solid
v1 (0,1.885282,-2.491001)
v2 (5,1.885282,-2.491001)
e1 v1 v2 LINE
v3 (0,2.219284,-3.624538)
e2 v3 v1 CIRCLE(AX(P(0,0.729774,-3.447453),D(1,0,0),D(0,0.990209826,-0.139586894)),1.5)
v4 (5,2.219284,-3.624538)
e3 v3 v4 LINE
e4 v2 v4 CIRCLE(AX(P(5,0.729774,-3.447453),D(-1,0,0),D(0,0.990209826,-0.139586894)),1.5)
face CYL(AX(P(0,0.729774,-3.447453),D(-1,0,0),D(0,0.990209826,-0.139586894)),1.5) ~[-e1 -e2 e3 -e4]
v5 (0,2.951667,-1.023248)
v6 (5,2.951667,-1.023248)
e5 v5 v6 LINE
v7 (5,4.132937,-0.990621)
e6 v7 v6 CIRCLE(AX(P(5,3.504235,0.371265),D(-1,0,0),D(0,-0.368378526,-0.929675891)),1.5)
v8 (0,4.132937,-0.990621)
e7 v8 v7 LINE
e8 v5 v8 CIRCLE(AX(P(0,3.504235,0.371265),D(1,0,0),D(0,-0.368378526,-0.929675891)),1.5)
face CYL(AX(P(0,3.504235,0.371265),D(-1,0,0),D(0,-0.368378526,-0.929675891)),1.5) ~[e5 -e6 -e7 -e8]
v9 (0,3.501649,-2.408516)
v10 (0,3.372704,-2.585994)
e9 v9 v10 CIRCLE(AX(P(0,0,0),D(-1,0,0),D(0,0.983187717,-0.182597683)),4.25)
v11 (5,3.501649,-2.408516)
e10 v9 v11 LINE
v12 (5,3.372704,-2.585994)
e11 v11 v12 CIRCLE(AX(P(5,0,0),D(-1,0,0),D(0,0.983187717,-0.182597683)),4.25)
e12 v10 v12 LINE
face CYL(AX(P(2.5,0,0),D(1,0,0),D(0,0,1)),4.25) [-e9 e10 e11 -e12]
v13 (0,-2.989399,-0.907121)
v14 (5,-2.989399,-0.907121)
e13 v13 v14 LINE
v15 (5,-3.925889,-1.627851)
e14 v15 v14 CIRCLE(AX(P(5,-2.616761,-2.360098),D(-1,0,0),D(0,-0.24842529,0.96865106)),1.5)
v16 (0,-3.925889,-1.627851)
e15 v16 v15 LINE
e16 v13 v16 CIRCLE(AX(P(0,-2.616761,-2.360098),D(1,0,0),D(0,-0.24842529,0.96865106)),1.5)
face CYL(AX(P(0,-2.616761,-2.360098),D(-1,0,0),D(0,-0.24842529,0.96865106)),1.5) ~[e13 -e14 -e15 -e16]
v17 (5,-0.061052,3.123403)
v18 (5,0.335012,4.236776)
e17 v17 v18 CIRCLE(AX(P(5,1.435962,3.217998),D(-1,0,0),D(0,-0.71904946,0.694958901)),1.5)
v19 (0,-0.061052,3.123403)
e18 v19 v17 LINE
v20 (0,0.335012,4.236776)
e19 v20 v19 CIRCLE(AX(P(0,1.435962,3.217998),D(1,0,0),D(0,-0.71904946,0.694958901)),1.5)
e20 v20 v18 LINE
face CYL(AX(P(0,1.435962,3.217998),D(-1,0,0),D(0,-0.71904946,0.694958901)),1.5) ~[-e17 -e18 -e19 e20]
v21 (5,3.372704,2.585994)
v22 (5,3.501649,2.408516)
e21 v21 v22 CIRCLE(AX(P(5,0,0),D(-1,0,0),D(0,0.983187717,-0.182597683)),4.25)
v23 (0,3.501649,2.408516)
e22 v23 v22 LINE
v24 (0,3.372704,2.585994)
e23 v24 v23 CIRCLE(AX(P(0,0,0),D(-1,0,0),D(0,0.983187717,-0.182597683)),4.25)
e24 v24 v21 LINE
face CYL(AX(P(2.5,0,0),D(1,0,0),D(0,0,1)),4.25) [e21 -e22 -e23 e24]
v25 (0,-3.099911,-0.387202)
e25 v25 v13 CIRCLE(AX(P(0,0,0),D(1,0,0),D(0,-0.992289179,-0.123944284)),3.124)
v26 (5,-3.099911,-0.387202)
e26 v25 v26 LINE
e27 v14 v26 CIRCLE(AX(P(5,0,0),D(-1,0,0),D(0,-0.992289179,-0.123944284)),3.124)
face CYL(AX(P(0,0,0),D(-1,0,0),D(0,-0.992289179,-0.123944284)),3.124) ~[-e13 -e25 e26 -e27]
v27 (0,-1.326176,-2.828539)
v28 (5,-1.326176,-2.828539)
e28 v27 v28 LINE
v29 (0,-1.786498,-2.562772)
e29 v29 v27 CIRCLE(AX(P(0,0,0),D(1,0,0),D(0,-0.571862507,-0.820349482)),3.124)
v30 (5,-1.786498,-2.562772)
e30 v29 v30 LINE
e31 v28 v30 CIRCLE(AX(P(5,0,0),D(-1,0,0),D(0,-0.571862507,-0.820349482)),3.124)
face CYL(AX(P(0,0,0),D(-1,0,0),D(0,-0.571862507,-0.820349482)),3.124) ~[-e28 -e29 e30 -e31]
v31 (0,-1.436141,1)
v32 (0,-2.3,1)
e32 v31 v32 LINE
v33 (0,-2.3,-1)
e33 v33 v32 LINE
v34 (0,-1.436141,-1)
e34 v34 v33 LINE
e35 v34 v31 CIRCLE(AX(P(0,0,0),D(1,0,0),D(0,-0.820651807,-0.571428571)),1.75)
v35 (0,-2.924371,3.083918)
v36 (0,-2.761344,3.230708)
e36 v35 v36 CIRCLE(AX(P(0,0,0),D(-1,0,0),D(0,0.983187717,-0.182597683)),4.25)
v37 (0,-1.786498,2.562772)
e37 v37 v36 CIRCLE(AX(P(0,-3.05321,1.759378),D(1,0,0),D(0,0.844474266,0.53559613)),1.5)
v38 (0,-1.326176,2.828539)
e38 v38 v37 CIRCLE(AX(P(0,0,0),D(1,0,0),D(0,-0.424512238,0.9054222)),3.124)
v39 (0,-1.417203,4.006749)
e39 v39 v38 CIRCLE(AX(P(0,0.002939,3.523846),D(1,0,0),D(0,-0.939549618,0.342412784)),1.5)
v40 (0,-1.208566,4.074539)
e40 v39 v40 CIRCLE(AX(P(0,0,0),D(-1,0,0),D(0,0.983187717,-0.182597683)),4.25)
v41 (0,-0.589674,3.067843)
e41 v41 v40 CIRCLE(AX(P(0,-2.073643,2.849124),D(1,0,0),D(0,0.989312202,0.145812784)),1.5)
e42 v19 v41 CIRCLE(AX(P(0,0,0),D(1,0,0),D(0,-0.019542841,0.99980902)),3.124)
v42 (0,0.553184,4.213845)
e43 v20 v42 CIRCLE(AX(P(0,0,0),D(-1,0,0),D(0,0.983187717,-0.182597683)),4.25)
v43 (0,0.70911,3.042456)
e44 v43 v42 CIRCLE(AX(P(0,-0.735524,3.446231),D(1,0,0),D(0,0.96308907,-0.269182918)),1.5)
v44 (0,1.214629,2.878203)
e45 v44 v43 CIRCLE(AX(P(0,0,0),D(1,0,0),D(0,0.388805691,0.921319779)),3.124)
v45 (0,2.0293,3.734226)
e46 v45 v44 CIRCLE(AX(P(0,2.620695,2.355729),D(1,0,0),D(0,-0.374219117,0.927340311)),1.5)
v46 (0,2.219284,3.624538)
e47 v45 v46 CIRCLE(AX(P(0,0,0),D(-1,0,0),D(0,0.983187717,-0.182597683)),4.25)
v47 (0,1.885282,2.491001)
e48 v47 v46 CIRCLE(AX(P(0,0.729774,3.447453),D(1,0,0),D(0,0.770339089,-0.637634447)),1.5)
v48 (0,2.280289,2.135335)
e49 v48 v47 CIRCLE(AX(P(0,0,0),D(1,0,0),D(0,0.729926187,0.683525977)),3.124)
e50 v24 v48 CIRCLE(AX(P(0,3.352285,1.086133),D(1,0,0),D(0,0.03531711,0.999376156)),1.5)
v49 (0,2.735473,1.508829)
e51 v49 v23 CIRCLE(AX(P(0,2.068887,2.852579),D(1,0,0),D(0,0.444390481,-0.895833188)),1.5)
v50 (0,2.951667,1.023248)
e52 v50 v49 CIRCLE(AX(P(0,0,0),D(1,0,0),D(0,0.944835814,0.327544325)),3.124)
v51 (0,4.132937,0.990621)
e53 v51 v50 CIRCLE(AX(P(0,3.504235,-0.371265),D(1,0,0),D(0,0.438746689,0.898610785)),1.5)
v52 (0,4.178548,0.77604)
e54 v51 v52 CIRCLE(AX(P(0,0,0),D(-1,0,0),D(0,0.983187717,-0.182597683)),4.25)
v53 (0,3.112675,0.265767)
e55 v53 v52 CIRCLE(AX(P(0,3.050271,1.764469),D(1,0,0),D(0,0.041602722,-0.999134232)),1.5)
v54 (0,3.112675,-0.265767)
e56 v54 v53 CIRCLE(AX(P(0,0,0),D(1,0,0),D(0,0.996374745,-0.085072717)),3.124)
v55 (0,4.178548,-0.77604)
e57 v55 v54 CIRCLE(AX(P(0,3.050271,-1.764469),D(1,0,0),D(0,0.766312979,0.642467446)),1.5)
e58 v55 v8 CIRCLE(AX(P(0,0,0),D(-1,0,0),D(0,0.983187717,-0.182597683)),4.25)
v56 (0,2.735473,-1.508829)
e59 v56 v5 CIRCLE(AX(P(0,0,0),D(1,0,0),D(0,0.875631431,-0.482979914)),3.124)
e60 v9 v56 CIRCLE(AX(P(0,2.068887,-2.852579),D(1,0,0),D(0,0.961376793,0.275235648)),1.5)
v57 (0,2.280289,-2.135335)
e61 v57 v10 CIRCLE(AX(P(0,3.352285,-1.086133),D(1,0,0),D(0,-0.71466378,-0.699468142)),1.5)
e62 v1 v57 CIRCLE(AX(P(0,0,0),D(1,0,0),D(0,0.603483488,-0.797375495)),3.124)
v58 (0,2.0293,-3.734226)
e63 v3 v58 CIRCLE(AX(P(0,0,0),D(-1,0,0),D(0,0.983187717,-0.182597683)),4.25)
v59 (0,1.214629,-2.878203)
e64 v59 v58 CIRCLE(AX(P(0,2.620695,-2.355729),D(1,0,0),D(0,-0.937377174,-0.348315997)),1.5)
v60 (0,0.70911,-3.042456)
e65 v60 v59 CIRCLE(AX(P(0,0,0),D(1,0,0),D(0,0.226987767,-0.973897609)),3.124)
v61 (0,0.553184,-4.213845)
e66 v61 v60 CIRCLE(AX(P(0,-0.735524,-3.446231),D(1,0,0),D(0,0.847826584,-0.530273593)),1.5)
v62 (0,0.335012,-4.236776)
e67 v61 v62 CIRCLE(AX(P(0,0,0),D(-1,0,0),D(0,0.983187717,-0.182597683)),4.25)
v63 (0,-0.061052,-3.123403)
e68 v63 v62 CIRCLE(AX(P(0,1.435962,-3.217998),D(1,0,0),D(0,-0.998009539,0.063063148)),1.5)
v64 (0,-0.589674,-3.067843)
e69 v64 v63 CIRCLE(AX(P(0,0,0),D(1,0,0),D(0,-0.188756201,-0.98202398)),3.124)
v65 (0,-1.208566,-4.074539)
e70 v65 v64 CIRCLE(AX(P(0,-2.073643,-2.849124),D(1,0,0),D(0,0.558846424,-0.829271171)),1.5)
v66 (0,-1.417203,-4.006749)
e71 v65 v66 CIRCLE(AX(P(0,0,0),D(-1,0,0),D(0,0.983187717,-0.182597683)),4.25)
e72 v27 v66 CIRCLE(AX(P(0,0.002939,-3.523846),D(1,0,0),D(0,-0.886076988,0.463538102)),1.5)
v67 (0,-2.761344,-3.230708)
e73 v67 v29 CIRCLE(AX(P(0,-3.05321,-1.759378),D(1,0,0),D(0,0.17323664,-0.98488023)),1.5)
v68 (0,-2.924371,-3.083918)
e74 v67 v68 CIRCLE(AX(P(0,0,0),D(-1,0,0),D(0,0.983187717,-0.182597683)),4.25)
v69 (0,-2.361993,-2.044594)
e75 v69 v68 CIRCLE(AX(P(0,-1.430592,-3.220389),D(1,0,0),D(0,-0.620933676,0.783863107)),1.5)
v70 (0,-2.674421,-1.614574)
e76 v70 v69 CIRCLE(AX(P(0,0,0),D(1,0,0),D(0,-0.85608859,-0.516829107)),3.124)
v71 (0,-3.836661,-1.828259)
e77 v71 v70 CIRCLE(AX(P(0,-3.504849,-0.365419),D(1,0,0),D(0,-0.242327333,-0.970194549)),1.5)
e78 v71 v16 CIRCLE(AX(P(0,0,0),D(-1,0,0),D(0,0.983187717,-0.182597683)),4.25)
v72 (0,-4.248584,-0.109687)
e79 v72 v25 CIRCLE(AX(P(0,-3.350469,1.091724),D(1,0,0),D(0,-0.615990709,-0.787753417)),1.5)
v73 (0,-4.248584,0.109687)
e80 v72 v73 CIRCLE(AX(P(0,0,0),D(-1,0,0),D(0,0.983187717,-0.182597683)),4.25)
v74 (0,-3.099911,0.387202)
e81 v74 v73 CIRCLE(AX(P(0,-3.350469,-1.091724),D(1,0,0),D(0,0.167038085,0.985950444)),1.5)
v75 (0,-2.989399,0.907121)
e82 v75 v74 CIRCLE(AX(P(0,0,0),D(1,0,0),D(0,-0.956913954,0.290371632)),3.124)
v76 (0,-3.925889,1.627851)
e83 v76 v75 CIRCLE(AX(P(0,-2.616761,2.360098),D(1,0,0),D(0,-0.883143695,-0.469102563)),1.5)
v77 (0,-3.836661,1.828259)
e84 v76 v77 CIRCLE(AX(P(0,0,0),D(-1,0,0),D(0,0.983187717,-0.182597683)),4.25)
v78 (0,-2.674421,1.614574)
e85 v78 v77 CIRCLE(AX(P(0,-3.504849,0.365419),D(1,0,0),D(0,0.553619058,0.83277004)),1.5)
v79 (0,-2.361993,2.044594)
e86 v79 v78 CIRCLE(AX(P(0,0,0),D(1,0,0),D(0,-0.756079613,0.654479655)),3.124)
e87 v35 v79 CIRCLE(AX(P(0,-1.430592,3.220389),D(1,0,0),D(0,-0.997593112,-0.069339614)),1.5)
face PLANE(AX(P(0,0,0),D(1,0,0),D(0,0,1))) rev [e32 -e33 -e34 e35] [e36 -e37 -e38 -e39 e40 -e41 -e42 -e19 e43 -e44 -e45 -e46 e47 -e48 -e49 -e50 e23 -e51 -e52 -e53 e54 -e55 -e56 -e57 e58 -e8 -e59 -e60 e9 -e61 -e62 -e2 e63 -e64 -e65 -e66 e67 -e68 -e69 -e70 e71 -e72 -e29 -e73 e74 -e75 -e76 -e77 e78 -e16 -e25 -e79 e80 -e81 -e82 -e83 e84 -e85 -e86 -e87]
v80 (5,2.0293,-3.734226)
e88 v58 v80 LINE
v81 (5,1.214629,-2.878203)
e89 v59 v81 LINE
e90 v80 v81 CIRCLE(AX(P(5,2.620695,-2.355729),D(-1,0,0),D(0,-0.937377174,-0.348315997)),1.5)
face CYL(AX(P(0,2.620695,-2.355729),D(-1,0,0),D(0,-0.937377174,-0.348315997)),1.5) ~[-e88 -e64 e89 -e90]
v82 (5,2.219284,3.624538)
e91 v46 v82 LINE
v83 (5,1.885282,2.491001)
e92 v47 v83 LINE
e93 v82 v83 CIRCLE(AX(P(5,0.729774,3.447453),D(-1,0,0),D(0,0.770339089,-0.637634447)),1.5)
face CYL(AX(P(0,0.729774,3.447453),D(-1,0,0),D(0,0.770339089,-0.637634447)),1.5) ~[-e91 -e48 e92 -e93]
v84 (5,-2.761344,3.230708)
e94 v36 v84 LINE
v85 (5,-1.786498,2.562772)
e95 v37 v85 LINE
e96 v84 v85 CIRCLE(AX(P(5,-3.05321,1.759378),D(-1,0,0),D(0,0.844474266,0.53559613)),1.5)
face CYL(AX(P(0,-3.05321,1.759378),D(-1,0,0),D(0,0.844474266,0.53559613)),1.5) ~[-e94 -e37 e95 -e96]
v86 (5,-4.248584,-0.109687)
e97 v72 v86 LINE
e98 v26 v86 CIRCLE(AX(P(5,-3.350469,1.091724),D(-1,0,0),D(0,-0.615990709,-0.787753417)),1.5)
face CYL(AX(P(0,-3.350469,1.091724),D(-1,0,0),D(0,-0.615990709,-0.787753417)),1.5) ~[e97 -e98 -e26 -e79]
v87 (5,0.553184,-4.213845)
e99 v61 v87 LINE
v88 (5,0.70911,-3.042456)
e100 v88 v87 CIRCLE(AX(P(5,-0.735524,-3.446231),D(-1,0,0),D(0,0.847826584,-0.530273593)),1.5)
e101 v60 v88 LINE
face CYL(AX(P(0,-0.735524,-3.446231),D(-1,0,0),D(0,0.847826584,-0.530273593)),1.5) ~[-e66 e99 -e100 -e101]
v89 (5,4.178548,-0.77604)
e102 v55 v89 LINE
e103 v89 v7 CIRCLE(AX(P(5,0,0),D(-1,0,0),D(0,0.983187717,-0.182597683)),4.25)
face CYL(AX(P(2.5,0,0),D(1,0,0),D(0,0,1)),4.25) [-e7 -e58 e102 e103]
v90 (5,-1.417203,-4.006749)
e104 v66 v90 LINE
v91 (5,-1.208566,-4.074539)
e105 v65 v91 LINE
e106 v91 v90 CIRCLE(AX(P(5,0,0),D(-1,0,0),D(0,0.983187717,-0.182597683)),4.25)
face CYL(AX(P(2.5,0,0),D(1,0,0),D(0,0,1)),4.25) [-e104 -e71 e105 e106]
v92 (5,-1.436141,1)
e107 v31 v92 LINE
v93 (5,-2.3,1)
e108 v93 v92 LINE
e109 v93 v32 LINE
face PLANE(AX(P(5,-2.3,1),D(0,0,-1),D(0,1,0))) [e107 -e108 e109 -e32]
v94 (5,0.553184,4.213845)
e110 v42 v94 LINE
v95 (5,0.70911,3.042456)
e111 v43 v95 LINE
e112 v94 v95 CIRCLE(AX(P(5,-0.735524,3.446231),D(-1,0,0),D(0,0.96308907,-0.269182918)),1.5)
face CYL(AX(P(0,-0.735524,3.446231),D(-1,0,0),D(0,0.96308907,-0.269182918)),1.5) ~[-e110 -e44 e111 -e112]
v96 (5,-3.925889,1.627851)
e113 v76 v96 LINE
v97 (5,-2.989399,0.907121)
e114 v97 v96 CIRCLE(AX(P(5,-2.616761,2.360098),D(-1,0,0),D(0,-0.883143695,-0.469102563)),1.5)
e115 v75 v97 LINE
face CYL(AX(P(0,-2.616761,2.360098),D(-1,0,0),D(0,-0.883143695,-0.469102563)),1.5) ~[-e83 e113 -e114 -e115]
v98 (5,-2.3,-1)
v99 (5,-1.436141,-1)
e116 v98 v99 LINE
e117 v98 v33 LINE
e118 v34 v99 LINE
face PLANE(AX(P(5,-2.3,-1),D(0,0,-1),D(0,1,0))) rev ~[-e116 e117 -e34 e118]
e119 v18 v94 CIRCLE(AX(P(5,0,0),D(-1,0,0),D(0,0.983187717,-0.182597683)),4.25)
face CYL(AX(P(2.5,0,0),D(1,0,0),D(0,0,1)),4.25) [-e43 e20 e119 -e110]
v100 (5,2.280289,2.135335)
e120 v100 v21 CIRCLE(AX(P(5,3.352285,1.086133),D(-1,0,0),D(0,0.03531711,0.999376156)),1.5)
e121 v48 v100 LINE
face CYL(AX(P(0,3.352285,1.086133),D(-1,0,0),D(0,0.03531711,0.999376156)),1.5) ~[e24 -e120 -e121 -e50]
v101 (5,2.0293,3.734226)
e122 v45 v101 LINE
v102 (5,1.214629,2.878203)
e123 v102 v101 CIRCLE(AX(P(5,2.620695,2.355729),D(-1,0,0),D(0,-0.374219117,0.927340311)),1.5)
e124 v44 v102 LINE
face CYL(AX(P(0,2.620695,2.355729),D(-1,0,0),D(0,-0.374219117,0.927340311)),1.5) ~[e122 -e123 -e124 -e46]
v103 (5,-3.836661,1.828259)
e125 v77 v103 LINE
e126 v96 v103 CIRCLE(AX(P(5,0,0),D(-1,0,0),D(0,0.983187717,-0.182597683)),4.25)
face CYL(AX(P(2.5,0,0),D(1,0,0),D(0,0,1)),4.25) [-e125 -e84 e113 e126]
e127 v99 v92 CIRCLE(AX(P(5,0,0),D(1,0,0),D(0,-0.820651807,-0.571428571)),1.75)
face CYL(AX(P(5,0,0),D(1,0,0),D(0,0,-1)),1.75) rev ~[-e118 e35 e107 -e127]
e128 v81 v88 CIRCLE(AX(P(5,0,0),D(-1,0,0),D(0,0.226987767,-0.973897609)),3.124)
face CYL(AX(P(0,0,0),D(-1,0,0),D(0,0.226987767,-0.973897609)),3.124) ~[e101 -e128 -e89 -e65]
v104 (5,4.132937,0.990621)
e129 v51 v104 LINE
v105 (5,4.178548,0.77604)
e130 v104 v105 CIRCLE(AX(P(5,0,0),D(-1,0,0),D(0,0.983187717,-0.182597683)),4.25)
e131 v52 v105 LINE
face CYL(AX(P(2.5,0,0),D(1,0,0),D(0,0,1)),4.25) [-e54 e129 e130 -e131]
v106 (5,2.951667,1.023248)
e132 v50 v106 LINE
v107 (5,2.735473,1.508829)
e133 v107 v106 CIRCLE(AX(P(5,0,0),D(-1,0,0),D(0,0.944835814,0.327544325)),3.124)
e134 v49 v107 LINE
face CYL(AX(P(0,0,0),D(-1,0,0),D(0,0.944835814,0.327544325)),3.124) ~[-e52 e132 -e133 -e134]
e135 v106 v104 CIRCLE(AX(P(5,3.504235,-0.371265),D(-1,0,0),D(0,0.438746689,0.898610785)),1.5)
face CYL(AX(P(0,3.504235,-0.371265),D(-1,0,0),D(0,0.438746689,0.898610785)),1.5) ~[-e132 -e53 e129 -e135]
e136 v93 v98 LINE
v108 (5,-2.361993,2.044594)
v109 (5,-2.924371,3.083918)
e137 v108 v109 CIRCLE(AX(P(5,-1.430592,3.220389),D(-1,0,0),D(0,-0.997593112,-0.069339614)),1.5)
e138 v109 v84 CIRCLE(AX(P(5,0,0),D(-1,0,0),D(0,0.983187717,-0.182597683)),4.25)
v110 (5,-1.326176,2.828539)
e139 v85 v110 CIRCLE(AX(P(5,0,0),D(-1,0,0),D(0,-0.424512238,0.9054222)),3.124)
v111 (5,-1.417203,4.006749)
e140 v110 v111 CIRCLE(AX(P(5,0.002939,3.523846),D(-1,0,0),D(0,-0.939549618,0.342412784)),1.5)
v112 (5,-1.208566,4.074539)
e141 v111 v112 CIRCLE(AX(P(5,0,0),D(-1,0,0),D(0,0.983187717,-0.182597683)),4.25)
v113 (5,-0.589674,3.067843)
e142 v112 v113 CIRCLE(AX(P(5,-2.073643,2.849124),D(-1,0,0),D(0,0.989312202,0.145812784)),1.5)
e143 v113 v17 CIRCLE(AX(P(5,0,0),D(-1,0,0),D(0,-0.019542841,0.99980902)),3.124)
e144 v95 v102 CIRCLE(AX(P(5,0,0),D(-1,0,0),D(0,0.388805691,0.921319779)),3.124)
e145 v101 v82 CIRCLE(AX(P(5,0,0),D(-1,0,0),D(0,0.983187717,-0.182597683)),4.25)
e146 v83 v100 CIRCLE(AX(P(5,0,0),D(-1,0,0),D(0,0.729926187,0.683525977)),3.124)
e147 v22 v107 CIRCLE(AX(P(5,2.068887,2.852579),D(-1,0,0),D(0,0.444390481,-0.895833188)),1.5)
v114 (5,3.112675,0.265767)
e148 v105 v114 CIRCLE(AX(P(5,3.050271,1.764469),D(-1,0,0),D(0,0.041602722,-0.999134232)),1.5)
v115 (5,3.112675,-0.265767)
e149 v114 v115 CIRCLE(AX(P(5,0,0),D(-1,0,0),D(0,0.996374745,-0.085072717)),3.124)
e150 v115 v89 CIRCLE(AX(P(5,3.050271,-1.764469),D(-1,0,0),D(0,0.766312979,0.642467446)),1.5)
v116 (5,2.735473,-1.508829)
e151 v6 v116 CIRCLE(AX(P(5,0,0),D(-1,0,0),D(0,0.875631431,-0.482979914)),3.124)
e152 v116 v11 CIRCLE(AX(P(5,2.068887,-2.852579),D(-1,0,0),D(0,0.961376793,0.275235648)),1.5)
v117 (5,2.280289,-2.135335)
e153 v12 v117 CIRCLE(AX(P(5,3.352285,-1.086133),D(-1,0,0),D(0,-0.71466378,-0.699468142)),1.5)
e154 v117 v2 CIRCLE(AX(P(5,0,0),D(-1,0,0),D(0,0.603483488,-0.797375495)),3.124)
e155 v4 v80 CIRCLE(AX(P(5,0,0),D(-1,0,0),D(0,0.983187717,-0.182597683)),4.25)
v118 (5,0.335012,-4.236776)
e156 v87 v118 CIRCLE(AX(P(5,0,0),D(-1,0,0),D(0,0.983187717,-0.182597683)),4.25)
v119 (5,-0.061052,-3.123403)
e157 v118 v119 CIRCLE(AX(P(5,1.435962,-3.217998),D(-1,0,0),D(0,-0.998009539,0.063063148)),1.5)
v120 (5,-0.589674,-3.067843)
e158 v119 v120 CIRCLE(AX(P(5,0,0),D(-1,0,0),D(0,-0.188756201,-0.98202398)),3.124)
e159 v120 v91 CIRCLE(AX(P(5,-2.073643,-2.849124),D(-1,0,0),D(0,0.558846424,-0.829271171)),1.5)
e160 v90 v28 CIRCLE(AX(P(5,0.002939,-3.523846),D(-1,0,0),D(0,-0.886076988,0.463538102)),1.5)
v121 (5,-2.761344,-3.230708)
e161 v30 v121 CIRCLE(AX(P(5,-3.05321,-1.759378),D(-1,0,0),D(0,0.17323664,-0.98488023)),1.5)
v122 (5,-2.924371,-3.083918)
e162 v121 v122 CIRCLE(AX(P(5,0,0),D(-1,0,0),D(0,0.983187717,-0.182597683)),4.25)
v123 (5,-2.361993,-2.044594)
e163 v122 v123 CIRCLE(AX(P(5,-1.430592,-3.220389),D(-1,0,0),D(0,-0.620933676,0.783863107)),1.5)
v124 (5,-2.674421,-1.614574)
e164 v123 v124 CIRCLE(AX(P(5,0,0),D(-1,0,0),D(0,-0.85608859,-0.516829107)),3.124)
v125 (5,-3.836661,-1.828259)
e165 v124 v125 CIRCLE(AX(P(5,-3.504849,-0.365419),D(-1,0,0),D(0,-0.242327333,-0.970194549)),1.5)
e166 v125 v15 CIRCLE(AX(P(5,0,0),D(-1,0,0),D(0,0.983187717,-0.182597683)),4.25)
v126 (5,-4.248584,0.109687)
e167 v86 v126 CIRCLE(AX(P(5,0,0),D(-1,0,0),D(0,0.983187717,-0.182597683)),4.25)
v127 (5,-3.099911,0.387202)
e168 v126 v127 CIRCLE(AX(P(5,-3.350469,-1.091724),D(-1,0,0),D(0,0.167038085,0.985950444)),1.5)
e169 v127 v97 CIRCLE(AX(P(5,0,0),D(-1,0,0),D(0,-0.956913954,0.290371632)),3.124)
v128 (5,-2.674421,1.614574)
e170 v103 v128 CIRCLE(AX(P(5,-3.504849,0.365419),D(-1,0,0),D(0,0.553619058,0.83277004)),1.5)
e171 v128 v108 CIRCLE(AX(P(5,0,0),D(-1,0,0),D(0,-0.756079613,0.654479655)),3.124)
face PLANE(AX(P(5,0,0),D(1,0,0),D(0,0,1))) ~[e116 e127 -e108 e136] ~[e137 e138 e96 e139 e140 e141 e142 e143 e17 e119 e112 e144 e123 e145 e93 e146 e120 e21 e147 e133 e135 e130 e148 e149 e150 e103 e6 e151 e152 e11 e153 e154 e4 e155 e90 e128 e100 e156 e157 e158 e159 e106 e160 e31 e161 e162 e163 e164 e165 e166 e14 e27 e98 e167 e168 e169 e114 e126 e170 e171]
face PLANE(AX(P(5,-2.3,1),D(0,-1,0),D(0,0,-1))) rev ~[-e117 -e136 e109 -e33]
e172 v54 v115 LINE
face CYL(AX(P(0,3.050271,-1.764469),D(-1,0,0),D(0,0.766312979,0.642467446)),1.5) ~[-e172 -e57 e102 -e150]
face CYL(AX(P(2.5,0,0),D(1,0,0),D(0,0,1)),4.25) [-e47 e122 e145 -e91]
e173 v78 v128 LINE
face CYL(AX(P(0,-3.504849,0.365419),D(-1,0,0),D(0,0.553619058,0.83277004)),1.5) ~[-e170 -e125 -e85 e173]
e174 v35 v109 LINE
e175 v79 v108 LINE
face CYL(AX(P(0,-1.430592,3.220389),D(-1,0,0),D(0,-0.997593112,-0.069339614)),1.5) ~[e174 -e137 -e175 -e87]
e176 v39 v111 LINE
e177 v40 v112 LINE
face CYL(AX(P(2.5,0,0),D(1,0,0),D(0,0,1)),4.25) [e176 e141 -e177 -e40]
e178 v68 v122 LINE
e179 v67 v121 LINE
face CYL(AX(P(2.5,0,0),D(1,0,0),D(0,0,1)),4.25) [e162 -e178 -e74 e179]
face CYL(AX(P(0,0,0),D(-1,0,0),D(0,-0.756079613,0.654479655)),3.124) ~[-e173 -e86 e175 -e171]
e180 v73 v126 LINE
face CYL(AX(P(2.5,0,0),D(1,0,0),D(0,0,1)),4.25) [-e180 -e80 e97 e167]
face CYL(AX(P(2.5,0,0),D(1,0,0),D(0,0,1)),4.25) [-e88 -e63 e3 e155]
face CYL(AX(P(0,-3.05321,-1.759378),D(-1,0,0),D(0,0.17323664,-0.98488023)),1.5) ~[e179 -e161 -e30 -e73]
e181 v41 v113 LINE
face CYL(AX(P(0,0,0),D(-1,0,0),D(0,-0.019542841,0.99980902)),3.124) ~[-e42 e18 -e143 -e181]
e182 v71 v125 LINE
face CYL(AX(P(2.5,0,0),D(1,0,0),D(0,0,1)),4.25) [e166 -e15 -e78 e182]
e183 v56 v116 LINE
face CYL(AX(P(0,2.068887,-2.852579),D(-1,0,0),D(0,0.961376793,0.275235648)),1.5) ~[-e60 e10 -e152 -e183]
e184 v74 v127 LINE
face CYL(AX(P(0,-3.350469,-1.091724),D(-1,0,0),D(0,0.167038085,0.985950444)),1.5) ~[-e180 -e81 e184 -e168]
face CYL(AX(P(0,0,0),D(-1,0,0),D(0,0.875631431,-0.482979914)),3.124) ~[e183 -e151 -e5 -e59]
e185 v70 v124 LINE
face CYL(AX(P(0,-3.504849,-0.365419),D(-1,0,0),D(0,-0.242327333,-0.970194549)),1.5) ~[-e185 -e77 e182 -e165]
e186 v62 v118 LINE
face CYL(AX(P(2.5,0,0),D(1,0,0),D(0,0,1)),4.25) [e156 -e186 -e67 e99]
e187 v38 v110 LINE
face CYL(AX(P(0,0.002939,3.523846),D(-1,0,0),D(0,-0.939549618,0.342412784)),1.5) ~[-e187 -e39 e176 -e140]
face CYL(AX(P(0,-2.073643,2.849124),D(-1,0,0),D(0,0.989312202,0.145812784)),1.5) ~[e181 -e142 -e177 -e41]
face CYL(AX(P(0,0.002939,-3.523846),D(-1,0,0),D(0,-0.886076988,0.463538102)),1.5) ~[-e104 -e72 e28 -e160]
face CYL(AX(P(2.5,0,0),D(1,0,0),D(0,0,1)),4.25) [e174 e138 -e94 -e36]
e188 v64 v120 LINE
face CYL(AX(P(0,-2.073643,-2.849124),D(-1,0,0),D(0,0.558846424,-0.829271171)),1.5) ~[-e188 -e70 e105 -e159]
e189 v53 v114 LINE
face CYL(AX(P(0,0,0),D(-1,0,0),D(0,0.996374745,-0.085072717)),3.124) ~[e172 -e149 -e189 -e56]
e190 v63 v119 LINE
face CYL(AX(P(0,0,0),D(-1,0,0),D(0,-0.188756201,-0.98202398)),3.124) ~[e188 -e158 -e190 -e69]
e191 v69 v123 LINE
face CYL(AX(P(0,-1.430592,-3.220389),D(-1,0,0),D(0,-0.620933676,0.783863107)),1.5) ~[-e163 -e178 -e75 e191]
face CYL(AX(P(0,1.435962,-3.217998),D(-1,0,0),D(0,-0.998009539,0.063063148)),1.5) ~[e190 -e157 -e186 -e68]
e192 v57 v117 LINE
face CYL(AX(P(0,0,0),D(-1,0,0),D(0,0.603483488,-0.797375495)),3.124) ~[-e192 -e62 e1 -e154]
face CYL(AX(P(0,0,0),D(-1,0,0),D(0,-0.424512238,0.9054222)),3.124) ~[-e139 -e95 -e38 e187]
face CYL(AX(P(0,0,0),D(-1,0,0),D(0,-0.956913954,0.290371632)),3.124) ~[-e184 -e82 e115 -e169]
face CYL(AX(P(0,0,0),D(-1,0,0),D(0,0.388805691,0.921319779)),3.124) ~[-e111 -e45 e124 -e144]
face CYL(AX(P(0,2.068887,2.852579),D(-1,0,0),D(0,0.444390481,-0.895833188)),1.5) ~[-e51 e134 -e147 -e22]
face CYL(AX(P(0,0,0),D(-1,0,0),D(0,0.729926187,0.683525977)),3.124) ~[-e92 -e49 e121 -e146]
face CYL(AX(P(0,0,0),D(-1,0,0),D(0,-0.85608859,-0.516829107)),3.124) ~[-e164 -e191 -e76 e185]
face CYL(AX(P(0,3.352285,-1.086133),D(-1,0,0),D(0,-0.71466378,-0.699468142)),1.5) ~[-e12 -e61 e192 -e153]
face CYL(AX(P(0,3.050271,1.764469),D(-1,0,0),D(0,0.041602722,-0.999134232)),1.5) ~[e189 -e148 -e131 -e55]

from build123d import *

# Parameters (mm, degrees)
BASPROSKE_W             = 5
BASPROSKE_H             = 4.25
TOOTHCUT_DEPTH          = 8.818247886
TEETHCUTS_COUNT         = 15
TEETHCUTS_ANGLE         = 336
BORSKE_R                = 0.5
BORE_DEPTH              = 50.0000508
SKETCH1_R               = 1.75
CUT_EXTRUDE1_DEPTH      = 8.811066965
CUT_EXTRUDE1_DEPTH_BACK = 8.811066965
SKETCH2_W               = 2
SKETCH2_H               = 1.1
CUT_EXTRUDE2_DEPTH      = 8.811066965
CUT_EXTRUDE2_DEPTH_BACK = 8.811066965


with BuildPart() as part:
    # BasProSke → Base-Revolve (revolve)
    with BuildSketch(Plane(origin=(0, 0, 0), x_dir=(1, 0, 0), z_dir=(0, 1, 0)), mode=Mode.PRIVATE) as base_revolve_sk:
        with Locations((2.5, 2.125)):
            Rectangle(BASPROSKE_W, BASPROSKE_H)
    revolve(base_revolve_sk.sketch.rotate(Axis((-10, 0, 0), (1, 0, 0)), 180), axis=Axis((-10, 0, 0), (1, 0, 0)))

    # TooCutSke → ToothCut (cut, through all)
    with BuildSketch(Plane(origin=(0, 0, 0), x_dir=(0, 0, -1), z_dir=(1, 0, 0))):
        with BuildLine():
            ThreePointArc((0.265767165, 3.112674704), (0, 3.124), (-0.265767165, 3.112674704))
            ThreePointArc((-0.265767165, 3.112674704), (-0.418628877, 3.712626775), (-0.800767345, 4.19974009))
            ThreePointArc((-0.800767345, 4.19974009), (0, 4.2754), (0.800767345, 4.19974009))
            ThreePointArc((0.800767345, 4.19974009), (0.418628877, 3.712626775), (0.265767165, 3.112674704))
        make_face()
    toothcut = extrude(amount=TOOTHCUT_DEPTH, mode=Mode.SUBTRACT)

    # TeethCuts: ToothCut ×15 about axis
    teethcuts_axis = Axis((-10, 0, 0), (1, 0, 0))
    for i in range(1, TEETHCUTS_COUNT):
        add(toothcut.rotate(teethcuts_axis, i * TEETHCUTS_ANGLE / (TEETHCUTS_COUNT - 1)), mode=Mode.SUBTRACT)

    # BorSke → Bore (cut, symmetric)
    with BuildSketch(Plane(origin=(0, 0, 0), x_dir=(0, 0, -1), z_dir=(1, 0, 0))):
        with Locations(Location((0, 0, 0), (0, 0, 180))):
            Circle(BORSKE_R)
    extrude(amount=BORE_DEPTH, both=True, mode=Mode.SUBTRACT)

    # Sketch1 → Cut-Extrude1 (cut, two sides)
    with BuildSketch(Plane(origin=(5, 0, 0), x_dir=(0, 0, -1), z_dir=(1, 0, 0))) as cut_extrude1_sk:
        Circle(SKETCH1_R)
    extrude(amount=CUT_EXTRUDE1_DEPTH, mode=Mode.SUBTRACT)
    extrude(cut_extrude1_sk.sketch, amount=-CUT_EXTRUDE1_DEPTH_BACK, mode=Mode.SUBTRACT)

    # Sketch2 → Cut-Extrude2 (cut, two sides)
    with BuildSketch(Plane(origin=(5, 0, 0), x_dir=(0, 0, -1), z_dir=(1, 0, 0))) as cut_extrude2_sk:
        with Locations((0, -1.75)):
            Rectangle(SKETCH2_W, SKETCH2_H)
    extrude(amount=CUT_EXTRUDE2_DEPTH, mode=Mode.SUBTRACT)
    extrude(cut_extrude2_sk.sketch, amount=-CUT_EXTRUDE2_DEPTH_BACK, mode=Mode.SUBTRACT)


solid = part.part
